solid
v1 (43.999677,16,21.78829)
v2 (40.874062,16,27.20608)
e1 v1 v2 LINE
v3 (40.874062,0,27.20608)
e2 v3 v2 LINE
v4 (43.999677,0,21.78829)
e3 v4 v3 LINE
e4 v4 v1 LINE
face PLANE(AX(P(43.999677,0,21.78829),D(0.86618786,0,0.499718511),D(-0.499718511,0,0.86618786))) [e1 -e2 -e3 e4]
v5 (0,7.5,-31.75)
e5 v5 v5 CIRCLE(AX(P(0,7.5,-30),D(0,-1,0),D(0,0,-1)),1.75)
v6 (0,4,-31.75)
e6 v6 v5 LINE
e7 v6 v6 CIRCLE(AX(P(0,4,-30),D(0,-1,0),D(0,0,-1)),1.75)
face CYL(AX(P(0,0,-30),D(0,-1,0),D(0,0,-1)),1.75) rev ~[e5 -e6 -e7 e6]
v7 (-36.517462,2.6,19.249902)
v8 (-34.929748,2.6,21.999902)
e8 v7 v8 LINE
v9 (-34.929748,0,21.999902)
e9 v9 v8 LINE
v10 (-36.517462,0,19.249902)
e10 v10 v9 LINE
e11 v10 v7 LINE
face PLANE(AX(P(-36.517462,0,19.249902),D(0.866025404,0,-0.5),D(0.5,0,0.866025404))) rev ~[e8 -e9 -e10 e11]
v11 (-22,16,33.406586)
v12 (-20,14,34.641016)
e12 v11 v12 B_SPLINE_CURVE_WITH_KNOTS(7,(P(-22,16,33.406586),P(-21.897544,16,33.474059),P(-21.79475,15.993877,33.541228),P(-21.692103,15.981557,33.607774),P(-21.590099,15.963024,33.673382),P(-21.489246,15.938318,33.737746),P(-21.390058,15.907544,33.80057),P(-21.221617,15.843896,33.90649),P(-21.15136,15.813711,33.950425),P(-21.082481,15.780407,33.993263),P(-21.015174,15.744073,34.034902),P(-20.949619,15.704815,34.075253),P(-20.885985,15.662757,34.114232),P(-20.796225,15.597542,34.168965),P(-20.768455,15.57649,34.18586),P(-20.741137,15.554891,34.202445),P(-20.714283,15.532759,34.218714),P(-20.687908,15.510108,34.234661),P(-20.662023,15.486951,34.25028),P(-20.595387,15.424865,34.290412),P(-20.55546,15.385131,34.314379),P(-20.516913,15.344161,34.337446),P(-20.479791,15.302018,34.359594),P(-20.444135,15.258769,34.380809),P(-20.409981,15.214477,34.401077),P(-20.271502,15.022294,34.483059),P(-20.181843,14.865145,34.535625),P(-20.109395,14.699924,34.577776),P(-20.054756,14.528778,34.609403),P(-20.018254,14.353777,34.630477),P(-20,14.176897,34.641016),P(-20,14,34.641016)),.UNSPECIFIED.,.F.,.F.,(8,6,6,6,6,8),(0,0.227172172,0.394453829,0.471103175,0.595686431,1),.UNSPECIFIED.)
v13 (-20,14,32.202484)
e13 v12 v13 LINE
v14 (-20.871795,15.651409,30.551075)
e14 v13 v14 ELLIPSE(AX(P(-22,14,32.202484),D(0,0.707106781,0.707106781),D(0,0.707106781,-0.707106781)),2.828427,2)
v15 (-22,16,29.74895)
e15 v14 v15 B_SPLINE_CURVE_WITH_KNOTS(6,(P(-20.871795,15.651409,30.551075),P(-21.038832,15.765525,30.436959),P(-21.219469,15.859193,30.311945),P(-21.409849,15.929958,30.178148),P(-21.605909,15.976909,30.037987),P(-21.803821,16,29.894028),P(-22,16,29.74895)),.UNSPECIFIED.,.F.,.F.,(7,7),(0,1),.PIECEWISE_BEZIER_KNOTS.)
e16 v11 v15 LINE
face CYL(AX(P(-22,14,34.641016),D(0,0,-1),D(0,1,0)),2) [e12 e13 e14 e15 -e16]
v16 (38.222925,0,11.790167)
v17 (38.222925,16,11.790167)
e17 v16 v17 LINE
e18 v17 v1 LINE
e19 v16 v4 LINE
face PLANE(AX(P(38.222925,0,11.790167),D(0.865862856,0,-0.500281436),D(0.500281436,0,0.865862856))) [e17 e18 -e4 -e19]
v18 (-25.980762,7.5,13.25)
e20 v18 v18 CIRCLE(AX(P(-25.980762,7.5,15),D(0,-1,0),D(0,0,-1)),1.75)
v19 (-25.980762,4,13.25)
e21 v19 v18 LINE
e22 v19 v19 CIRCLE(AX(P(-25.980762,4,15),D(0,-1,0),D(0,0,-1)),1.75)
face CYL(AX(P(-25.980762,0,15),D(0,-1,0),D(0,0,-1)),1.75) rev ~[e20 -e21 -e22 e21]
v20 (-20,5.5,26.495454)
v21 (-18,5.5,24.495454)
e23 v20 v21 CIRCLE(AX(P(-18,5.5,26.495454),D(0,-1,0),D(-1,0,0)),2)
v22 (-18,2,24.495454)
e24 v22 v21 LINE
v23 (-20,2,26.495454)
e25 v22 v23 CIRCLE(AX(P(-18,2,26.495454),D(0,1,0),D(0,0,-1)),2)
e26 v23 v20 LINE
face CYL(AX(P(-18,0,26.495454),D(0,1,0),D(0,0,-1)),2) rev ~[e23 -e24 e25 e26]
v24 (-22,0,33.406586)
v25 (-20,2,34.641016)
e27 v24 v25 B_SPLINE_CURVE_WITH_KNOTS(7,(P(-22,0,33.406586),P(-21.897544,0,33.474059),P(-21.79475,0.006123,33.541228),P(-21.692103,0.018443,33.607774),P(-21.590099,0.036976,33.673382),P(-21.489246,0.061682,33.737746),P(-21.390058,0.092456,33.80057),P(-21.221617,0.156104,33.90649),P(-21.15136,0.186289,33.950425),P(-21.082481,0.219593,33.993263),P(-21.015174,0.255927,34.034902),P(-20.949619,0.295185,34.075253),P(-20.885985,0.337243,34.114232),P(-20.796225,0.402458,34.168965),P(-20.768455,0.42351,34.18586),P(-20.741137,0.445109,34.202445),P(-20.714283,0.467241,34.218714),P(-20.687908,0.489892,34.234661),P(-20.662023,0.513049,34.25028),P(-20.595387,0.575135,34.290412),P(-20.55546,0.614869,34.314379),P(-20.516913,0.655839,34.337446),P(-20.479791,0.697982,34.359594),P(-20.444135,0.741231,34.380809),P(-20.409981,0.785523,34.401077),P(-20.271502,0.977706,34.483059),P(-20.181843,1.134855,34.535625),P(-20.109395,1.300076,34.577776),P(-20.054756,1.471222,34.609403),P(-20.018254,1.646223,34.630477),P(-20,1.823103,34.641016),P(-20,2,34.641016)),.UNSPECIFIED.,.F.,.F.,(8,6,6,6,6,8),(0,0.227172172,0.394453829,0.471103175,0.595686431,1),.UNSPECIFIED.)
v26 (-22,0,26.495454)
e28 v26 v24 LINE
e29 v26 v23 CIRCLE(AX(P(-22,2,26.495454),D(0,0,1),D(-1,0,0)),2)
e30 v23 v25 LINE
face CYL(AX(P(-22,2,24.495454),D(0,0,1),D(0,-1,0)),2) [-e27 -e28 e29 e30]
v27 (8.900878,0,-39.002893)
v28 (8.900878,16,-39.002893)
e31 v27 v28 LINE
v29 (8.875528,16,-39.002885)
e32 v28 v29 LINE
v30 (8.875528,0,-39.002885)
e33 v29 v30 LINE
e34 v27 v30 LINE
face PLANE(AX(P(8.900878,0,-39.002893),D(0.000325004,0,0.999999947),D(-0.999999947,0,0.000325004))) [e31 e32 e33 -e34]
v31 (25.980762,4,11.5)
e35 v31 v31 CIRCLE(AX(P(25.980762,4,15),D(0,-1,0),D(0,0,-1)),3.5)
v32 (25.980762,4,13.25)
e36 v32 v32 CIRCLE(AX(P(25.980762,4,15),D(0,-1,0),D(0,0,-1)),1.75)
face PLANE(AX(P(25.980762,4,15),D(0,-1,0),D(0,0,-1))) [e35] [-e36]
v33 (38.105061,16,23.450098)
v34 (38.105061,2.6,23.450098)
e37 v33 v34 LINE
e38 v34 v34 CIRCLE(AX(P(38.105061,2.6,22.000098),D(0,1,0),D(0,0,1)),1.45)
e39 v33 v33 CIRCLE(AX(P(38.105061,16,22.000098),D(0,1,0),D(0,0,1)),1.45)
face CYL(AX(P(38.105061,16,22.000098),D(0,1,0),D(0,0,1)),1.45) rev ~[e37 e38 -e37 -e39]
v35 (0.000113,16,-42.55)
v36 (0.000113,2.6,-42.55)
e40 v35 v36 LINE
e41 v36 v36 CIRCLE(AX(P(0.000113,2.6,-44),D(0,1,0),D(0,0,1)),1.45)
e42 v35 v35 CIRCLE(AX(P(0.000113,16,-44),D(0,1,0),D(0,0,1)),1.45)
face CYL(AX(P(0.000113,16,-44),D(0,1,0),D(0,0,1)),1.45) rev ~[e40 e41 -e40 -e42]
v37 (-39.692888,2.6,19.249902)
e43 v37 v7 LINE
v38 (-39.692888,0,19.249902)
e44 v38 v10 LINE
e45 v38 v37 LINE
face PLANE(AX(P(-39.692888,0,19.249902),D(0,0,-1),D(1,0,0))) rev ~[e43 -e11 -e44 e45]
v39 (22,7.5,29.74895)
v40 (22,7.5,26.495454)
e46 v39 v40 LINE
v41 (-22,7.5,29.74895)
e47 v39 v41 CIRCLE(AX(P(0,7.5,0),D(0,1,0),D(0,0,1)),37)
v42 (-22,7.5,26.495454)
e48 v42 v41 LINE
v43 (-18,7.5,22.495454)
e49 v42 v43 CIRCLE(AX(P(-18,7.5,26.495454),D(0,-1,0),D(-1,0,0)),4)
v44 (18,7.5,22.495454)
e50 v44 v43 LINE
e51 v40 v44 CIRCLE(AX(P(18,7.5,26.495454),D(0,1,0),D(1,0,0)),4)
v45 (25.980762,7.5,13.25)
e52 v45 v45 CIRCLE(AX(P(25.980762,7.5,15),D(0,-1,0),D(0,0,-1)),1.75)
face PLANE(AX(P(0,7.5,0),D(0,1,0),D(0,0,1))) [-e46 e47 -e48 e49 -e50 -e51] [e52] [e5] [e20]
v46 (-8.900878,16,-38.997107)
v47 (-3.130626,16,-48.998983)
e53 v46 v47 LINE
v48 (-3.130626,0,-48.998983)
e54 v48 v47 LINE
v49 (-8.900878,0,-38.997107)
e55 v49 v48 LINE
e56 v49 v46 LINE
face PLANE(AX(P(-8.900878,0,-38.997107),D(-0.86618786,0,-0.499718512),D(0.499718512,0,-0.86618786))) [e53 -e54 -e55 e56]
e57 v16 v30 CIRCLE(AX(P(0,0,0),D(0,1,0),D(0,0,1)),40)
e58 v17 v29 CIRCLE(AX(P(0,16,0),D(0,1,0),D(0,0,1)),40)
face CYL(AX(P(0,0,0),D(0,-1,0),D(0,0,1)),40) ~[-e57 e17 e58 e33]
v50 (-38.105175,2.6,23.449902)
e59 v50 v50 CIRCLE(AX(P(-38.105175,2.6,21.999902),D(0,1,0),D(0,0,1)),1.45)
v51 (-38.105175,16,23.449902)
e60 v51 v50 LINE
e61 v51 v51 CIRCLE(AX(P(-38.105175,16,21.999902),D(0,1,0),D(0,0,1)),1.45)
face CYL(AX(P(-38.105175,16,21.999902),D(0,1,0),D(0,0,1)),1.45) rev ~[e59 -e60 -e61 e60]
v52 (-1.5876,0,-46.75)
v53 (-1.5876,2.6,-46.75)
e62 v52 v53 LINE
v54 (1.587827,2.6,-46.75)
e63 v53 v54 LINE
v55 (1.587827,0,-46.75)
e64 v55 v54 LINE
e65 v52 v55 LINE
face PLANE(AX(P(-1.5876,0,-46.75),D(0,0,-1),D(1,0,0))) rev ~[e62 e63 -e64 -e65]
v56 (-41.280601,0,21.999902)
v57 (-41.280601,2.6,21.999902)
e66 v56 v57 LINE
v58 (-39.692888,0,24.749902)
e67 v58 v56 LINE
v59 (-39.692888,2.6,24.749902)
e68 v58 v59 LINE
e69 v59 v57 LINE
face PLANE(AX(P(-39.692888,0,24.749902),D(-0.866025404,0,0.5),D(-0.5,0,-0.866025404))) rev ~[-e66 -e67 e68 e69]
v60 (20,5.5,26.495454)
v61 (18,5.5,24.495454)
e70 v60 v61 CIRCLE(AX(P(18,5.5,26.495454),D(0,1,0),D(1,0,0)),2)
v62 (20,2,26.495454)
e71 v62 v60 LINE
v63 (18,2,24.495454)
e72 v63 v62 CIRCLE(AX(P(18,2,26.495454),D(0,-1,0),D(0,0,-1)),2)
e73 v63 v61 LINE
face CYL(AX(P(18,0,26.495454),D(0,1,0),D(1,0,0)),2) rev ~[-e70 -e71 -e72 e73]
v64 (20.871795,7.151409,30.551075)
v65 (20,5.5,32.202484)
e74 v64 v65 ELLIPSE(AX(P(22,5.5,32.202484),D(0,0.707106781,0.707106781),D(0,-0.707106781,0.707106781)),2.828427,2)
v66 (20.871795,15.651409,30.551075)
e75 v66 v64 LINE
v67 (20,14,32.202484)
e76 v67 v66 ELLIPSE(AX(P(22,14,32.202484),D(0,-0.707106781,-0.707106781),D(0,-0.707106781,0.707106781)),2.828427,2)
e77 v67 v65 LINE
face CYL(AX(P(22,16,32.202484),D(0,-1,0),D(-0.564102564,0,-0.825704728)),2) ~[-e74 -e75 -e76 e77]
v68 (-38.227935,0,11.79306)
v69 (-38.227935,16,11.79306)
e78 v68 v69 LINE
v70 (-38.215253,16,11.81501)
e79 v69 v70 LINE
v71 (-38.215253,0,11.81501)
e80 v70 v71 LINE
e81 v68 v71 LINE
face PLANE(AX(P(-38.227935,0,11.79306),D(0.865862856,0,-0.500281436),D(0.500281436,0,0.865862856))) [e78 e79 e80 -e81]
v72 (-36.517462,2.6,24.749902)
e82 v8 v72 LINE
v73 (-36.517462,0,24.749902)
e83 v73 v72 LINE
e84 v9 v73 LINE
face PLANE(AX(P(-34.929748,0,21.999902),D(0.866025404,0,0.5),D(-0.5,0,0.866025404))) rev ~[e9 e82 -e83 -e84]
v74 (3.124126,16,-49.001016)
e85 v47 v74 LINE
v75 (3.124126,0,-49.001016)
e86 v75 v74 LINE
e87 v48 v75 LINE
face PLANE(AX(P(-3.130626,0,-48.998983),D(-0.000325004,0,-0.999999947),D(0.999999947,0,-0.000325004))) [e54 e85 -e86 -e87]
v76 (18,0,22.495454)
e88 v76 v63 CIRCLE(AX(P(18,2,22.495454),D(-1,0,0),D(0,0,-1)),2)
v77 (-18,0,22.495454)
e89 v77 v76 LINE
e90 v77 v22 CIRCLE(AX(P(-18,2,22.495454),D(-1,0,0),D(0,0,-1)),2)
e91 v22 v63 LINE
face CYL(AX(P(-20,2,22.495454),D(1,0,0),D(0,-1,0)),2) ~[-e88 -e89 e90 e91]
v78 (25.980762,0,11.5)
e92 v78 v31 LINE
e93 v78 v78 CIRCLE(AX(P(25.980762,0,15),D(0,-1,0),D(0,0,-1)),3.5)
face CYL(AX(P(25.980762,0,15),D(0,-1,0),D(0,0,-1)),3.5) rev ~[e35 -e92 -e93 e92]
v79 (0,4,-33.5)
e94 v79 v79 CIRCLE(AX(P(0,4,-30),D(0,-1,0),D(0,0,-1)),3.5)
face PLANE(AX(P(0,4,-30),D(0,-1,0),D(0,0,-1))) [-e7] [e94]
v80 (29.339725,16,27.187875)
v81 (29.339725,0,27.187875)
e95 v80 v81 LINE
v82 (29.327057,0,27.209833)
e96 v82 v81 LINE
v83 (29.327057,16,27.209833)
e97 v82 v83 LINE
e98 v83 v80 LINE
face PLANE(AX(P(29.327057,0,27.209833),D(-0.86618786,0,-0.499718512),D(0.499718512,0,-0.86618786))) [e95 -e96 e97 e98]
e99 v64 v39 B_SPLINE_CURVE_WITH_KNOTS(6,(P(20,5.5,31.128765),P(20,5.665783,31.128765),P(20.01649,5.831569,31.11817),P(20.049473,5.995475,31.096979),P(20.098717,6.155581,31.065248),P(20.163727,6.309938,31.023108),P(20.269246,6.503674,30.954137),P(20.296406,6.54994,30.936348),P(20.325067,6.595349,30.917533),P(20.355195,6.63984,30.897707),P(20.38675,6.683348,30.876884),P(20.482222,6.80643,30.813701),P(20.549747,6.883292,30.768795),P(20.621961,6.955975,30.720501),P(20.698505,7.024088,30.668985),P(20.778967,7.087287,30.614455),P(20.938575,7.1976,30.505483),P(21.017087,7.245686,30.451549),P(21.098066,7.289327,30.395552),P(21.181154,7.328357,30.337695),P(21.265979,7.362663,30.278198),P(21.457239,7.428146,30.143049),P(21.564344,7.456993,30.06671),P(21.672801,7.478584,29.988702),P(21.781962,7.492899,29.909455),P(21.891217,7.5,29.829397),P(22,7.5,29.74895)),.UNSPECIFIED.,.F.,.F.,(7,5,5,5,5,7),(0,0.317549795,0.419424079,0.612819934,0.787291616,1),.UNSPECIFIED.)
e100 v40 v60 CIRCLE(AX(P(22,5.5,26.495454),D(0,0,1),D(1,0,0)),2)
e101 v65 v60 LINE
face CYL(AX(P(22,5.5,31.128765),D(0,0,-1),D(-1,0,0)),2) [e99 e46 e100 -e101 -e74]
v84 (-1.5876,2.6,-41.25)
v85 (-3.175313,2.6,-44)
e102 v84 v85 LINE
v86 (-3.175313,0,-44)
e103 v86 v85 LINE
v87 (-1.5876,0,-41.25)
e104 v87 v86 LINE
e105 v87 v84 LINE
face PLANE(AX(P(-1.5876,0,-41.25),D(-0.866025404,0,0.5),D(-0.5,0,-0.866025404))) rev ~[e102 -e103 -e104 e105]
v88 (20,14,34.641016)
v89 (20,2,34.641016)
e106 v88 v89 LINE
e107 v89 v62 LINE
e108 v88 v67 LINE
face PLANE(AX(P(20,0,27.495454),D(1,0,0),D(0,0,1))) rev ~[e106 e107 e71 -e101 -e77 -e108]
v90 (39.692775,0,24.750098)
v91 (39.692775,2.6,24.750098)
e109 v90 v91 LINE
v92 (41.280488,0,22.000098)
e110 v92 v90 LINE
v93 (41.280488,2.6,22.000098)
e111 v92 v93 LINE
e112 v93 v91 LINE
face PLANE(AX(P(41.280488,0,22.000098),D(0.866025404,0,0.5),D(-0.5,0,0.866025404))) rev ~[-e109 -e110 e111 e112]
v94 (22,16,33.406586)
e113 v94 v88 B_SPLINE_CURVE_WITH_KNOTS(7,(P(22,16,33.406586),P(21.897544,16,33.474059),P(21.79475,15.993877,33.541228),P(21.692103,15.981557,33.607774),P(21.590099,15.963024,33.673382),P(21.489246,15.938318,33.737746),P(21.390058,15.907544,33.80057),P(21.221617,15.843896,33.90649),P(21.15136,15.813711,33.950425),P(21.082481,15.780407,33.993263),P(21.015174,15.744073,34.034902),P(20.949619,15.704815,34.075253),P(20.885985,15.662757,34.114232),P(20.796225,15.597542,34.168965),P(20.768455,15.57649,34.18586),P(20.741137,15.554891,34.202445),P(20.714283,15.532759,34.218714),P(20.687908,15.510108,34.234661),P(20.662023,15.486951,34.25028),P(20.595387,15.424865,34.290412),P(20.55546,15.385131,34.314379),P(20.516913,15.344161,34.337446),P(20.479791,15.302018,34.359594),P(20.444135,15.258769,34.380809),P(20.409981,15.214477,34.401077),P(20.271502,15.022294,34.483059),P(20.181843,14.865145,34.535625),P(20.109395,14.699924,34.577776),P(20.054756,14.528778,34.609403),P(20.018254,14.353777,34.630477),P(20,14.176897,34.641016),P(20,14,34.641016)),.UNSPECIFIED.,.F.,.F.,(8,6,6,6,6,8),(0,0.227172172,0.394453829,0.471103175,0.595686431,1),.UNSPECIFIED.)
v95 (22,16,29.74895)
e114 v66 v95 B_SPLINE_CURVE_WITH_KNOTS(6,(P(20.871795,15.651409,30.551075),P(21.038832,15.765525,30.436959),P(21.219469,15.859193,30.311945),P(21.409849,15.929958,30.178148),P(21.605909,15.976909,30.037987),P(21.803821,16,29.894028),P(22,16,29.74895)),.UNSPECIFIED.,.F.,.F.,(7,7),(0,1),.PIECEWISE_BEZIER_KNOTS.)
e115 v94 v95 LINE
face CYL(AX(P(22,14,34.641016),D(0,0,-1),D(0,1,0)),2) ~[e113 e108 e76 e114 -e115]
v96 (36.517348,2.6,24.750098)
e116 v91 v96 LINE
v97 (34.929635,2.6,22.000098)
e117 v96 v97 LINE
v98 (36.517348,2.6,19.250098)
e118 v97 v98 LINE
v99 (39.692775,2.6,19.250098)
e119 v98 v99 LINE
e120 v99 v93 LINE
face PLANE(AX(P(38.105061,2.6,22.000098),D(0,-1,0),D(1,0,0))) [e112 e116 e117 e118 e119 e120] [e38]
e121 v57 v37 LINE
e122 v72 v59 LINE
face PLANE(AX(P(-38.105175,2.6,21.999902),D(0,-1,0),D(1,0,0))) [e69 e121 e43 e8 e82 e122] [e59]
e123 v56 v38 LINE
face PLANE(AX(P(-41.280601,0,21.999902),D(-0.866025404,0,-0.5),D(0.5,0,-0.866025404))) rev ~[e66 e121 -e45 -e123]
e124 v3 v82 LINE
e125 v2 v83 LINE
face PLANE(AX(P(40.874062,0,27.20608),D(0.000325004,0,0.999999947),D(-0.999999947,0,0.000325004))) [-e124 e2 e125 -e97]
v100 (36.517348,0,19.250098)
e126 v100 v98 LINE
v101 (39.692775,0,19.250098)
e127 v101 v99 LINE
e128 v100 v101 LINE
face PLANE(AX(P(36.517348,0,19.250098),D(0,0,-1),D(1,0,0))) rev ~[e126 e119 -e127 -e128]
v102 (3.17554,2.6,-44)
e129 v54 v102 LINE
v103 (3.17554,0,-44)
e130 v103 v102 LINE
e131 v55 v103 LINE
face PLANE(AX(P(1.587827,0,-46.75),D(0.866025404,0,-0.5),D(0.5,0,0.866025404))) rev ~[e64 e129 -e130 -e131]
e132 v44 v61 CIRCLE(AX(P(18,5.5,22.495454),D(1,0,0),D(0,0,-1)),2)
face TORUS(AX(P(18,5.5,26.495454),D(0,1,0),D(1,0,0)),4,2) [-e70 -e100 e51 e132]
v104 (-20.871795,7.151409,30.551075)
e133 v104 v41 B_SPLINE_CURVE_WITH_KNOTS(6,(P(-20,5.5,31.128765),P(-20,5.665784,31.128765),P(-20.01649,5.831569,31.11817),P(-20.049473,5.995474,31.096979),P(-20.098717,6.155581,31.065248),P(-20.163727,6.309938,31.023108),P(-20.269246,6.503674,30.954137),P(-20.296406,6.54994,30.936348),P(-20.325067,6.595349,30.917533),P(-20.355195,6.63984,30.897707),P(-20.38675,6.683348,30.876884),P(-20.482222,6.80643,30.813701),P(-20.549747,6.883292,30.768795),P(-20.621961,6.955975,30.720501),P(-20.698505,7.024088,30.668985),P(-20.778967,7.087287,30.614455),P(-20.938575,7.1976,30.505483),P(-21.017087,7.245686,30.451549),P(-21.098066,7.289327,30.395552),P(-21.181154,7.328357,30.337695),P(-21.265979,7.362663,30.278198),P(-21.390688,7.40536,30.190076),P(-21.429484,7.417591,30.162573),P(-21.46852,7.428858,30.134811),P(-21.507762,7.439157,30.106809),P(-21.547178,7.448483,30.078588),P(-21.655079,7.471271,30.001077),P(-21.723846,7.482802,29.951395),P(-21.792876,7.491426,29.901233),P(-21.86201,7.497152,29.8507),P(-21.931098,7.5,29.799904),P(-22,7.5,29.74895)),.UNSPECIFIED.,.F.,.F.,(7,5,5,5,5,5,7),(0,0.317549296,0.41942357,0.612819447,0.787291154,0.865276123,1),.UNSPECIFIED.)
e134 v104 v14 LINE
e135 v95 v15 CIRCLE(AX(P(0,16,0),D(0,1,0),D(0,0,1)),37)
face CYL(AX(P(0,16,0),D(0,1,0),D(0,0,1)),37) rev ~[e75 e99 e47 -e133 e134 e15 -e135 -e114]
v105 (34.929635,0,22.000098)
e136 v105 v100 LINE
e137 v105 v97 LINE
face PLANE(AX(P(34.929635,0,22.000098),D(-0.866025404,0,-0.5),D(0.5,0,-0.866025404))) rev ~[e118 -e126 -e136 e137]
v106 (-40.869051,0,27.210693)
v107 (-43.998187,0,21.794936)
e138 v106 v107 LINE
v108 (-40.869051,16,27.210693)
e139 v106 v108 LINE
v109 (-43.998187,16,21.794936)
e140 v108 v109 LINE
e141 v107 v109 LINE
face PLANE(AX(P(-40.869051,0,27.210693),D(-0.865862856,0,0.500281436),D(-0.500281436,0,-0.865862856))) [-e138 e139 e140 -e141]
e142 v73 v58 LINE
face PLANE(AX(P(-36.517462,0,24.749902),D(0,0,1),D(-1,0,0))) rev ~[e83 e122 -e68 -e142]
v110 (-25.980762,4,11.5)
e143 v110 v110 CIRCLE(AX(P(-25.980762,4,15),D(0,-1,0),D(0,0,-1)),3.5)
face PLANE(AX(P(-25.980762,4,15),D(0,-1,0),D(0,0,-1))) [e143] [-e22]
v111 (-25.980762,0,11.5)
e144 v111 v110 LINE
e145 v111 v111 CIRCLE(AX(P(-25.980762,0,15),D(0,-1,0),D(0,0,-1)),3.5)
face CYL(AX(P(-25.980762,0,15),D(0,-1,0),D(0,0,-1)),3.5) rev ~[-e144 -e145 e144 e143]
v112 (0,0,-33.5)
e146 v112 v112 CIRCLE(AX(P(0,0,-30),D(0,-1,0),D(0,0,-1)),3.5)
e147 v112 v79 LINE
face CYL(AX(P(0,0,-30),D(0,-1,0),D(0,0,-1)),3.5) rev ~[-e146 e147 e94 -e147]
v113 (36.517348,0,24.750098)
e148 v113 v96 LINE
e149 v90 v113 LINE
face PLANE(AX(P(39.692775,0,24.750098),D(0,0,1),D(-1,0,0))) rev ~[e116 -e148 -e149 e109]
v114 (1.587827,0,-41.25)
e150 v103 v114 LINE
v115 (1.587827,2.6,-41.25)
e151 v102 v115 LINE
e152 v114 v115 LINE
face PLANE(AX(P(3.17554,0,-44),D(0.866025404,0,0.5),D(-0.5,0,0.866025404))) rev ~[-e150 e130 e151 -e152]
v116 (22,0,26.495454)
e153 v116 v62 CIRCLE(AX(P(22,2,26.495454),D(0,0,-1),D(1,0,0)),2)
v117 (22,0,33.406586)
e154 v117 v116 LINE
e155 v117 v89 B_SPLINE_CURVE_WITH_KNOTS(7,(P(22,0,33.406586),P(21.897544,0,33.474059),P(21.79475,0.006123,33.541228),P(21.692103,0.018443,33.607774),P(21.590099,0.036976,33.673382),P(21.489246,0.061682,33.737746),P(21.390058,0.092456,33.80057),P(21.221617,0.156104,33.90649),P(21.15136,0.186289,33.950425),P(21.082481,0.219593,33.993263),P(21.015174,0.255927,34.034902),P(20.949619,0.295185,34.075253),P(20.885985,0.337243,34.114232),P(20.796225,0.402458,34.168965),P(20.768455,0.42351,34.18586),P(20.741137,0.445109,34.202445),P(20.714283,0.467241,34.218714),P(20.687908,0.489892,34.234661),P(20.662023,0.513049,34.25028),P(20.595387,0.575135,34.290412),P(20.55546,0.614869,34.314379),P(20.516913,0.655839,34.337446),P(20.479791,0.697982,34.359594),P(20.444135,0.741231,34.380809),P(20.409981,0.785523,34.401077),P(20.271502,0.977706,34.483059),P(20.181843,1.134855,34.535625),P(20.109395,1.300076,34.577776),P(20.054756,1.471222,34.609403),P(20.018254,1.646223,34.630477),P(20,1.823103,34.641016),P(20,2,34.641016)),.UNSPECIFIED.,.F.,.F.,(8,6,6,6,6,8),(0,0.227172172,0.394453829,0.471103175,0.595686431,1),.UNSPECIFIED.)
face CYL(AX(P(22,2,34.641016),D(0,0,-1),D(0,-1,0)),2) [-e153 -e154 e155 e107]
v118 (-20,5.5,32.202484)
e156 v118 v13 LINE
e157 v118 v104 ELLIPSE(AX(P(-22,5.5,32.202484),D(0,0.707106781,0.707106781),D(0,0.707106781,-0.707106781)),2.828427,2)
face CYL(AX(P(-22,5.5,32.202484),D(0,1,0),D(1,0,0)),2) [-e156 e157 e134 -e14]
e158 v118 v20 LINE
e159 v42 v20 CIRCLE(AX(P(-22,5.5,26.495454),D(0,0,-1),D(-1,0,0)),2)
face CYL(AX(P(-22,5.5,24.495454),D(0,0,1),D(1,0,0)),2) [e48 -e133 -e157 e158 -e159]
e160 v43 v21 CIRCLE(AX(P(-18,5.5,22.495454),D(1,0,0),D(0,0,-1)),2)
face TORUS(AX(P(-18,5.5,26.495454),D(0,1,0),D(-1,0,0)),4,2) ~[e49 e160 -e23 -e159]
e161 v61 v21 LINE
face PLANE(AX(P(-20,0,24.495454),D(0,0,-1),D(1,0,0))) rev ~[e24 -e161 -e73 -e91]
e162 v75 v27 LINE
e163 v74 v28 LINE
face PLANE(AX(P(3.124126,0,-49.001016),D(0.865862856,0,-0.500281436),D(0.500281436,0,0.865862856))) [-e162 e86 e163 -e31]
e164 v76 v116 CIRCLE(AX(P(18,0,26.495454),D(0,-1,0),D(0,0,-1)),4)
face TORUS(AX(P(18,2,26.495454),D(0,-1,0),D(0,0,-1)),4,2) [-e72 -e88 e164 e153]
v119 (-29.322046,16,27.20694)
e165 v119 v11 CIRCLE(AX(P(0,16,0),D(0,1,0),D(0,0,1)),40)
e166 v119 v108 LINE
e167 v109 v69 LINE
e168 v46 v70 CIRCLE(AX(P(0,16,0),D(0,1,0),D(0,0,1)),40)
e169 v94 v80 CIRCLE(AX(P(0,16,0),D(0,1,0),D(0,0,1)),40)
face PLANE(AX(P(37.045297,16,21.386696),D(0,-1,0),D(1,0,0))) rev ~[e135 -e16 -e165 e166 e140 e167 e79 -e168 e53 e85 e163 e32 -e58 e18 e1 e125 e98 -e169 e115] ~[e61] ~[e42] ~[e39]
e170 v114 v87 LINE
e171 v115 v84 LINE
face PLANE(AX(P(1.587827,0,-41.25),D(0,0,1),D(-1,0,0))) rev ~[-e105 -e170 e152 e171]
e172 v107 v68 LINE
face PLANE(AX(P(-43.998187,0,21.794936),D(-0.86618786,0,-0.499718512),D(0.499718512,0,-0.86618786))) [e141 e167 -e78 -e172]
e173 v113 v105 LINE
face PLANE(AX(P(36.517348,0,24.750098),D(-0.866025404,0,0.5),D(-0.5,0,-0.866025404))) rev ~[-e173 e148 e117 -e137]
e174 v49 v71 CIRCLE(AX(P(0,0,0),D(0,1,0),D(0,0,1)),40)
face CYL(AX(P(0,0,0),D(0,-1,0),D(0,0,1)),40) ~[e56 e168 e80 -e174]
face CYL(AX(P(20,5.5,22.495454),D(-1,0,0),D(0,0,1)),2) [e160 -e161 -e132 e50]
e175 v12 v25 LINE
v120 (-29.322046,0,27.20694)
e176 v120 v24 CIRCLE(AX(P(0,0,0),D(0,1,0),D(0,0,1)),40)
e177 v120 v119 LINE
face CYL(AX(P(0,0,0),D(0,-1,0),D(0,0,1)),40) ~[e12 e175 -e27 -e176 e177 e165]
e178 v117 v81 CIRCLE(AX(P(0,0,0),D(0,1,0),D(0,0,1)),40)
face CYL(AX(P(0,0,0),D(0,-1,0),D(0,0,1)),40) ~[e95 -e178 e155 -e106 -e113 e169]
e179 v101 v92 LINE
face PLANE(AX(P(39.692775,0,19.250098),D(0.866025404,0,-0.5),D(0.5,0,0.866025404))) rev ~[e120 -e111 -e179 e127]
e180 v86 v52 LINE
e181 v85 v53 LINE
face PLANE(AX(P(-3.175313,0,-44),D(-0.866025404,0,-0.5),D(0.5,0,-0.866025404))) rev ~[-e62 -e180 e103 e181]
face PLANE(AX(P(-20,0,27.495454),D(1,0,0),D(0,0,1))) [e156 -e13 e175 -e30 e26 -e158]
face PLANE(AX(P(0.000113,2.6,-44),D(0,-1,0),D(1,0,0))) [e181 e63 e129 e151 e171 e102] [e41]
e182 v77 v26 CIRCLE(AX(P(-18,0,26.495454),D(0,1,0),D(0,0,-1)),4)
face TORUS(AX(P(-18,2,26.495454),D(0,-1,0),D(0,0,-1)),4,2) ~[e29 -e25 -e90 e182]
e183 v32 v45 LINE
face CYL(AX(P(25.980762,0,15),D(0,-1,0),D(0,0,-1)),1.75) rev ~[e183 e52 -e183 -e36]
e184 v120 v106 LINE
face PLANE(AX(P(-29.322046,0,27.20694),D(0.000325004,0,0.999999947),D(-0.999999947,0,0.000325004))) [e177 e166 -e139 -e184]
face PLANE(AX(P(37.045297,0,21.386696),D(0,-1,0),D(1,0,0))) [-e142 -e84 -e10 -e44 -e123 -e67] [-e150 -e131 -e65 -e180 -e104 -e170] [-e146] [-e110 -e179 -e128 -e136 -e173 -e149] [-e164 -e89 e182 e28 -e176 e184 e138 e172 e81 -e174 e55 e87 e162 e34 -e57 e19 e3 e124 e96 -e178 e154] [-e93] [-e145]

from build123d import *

# Parameters (mm, degrees)
SKETCH_1_R          = 40
EXTRUDE_1_DEPTH     = 16
SKETCH_2_R          = 37
CUT_EXTRUDE_1_DEPTH = 8.5
SKETCH_3_W          = 40
SKETCH_3_H          = 14.857277492
CUT_EXTRUDE_2_DEPTH = 59.787753827
SKETCH_4_W          = 40
SKETCH_4_H          = 3
CUT_EXTRUDE_3_DEPTH = 59.787753827
SKETCH_5_R          = 1.75
CUT_EXTRUDE_4_DEPTH = 59.787753827
EXTRUDE_2_DEPTH     = 16
SKETCH_10_R         = 1.45
CUT_EXTRUDE_5_DEPTH = 68.772200298
CUT_EXTRUDE_6_DEPTH = 2.6
SKETCH_13_R         = 3.5
CUT_EXTRUDE_7_DEPTH = 4
FILLET_2_R          = 2
FILLET_3_R          = 2


with BuildPart() as part:
    # 草图1 → 凸台-拉伸1 (new body)
    with BuildSketch(Plane(origin=(0, 0, 0), x_dir=(1, 0, 0), z_dir=(0, 1, 0))):
        with Locations(Location((0, 0, 0), (0, 0, 270))):
            Circle(SKETCH_1_R)
    extrude(amount=EXTRUDE_1_DEPTH)

    # 草图2 → 切除-拉伸1 (cut)
    with BuildSketch(Plane(origin=(0, 16, 0), x_dir=(1, 0, 0), z_dir=(0, 1, 0))):
        with Locations(Location((0, 0, 0), (0, 0, 270))):
            Circle(SKETCH_2_R)
    extrude(amount=-CUT_EXTRUDE_1_DEPTH, mode=Mode.SUBTRACT)

    # 草图3 → 切除-拉伸2 (cut, through all)
    with BuildSketch(Plane.XZ):
        with Locations((0, 34.924092916)):
            Rectangle(SKETCH_3_W, SKETCH_3_H)
    extrude(amount=-CUT_EXTRUDE_2_DEPTH, mode=Mode.SUBTRACT)

    # 草图4 → 切除-拉伸3 (cut, through all)
    with BuildSketch(Plane.XZ):
        with Locations((0, 25.99545417)):
            Rectangle(SKETCH_4_W, SKETCH_4_H)
    extrude(amount=-CUT_EXTRUDE_3_DEPTH, mode=Mode.SUBTRACT)

    # 草图5 → 切除-拉伸4 (cut, through all)
    with BuildSketch(Plane.XZ):
        with Locations(Location((0, -30, 0), (0, 0, 270))):
            Circle(SKETCH_5_R)
        with Locations(Location((-25.980762114, 15, 0), (0, 0, 270))):
            Circle(SKETCH_5_R)
        with Locations(Location((25.980762114, 15, 0), (0, 0, 270))):
            Circle(SKETCH_5_R)
    extrude(amount=-CUT_EXTRUDE_4_DEPTH, mode=Mode.SUBTRACT)

    # 草图6 → 凸台-拉伸2 (add)
    with BuildSketch(Plane.XZ):
        Polygon((29.32705693, 27.20983301), (38.222924566, 11.79016699), (43.999676996, 21.788290048), (40.874061704, 27.206080183), align=None)
        Polygon((8.900878155, -39.002892824), (-8.900878155, -38.997107176), (-3.130625811, -48.998983061), (3.124125724, -49.001015883), align=None)
        Polygon((-38.227935084, 11.793059814), (-29.322046411, 27.206940186), (-40.869051185, 27.210693013), (-43.998187428, 21.7949357), align=None)
    extrude(amount=-EXTRUDE_2_DEPTH)

    # 草图10 → 切除-拉伸5 (cut, through all)
    with BuildSketch(Plane(origin=(0, 16, 0), x_dir=(1, 0, 0), z_dir=(0, 1, 0))):
        with Locations(Location((0.000113428, 44.000000301, 0), (0, 0, 270))):
            Circle(SKETCH_10_R)
        with Locations(Location((38.105061313, -22.000098382, 0), (0, 0, 270))):
            Circle(SKETCH_10_R)
        with Locations(Location((-38.105174741, -21.999901919, 0), (0, 0, 270))):
            Circle(SKETCH_10_R)
    extrude(amount=-CUT_EXTRUDE_5_DEPTH, mode=Mode.SUBTRACT)

    # 草图11 → 切除-拉伸6 (cut)
    with BuildSketch(Plane.XZ):
        Polygon((-39.692887981, 19.249901919), (-36.517461501, 19.249901919), (-34.929748261, 21.999901919), (-36.517461501, 24.749901919), (-39.692887981, 24.749901919), (-41.280601222, 21.999901919), align=None)
        Polygon((3.175539908, -44.000000301), (1.587826668, -41.250000301), (-1.587599812, -41.250000301), (-3.175313053, -44.000000301), (-1.587599812, -46.750000301), (1.587826668, -46.750000301), align=None)
        Polygon((36.517348073, 24.750098382), (34.929634833, 22.000098382), (36.517348073, 19.250098382), (39.692774553, 19.250098382), (41.280487794, 22.000098382), (39.692774553, 24.750098382), align=None)
    extrude(amount=-CUT_EXTRUDE_6_DEPTH, mode=Mode.SUBTRACT)

    # 草图13 → 切除-拉伸7 (cut)
    with BuildSketch(Plane.XZ):
        with Locations(Location((-25.980762114, 15, 0), (0, 0, 270))):
            Circle(SKETCH_13_R)
        with Locations(Location((25.980762114, 15, 0), (0, 0, 270))):
            Circle(SKETCH_13_R)
        with Locations(Location((0, -30, 0), (0, 0, 270))):
            Circle(SKETCH_13_R)
    extrude(amount=-CUT_EXTRUDE_7_DEPTH, mode=Mode.SUBTRACT)

    # 圆角2
    fillet_2_edges = [part.edges().sort_by_distance(p)[0] for p in [
        (20, 7.5, 27.812109501),
        (-20, 7.5, 27.812109501),
        (-20, 0, 29.568235161),
        (20, 0, 29.568235161),
        (0, 7.5, 24.49545417),
        (-20, 3.75, 24.49545417),
        (20, 3.75, 24.49545417),
        (0, 0, 24.49545417),
    ]]
    fillet(fillet_2_edges, radius=FILLET_2_R)

    # 圆角3
    fillet_3_edges = [part.edges().sort_by_distance(p)[0] for p in [
        (-20, 16, 32.884890492),
        (-20, 10.75, 31.128764833),
        (20, 10.75, 31.128764833),
        (20, 16, 32.884890492),
    ]]
    fillet(fillet_3_edges, radius=FILLET_3_R)


solid = part.part
